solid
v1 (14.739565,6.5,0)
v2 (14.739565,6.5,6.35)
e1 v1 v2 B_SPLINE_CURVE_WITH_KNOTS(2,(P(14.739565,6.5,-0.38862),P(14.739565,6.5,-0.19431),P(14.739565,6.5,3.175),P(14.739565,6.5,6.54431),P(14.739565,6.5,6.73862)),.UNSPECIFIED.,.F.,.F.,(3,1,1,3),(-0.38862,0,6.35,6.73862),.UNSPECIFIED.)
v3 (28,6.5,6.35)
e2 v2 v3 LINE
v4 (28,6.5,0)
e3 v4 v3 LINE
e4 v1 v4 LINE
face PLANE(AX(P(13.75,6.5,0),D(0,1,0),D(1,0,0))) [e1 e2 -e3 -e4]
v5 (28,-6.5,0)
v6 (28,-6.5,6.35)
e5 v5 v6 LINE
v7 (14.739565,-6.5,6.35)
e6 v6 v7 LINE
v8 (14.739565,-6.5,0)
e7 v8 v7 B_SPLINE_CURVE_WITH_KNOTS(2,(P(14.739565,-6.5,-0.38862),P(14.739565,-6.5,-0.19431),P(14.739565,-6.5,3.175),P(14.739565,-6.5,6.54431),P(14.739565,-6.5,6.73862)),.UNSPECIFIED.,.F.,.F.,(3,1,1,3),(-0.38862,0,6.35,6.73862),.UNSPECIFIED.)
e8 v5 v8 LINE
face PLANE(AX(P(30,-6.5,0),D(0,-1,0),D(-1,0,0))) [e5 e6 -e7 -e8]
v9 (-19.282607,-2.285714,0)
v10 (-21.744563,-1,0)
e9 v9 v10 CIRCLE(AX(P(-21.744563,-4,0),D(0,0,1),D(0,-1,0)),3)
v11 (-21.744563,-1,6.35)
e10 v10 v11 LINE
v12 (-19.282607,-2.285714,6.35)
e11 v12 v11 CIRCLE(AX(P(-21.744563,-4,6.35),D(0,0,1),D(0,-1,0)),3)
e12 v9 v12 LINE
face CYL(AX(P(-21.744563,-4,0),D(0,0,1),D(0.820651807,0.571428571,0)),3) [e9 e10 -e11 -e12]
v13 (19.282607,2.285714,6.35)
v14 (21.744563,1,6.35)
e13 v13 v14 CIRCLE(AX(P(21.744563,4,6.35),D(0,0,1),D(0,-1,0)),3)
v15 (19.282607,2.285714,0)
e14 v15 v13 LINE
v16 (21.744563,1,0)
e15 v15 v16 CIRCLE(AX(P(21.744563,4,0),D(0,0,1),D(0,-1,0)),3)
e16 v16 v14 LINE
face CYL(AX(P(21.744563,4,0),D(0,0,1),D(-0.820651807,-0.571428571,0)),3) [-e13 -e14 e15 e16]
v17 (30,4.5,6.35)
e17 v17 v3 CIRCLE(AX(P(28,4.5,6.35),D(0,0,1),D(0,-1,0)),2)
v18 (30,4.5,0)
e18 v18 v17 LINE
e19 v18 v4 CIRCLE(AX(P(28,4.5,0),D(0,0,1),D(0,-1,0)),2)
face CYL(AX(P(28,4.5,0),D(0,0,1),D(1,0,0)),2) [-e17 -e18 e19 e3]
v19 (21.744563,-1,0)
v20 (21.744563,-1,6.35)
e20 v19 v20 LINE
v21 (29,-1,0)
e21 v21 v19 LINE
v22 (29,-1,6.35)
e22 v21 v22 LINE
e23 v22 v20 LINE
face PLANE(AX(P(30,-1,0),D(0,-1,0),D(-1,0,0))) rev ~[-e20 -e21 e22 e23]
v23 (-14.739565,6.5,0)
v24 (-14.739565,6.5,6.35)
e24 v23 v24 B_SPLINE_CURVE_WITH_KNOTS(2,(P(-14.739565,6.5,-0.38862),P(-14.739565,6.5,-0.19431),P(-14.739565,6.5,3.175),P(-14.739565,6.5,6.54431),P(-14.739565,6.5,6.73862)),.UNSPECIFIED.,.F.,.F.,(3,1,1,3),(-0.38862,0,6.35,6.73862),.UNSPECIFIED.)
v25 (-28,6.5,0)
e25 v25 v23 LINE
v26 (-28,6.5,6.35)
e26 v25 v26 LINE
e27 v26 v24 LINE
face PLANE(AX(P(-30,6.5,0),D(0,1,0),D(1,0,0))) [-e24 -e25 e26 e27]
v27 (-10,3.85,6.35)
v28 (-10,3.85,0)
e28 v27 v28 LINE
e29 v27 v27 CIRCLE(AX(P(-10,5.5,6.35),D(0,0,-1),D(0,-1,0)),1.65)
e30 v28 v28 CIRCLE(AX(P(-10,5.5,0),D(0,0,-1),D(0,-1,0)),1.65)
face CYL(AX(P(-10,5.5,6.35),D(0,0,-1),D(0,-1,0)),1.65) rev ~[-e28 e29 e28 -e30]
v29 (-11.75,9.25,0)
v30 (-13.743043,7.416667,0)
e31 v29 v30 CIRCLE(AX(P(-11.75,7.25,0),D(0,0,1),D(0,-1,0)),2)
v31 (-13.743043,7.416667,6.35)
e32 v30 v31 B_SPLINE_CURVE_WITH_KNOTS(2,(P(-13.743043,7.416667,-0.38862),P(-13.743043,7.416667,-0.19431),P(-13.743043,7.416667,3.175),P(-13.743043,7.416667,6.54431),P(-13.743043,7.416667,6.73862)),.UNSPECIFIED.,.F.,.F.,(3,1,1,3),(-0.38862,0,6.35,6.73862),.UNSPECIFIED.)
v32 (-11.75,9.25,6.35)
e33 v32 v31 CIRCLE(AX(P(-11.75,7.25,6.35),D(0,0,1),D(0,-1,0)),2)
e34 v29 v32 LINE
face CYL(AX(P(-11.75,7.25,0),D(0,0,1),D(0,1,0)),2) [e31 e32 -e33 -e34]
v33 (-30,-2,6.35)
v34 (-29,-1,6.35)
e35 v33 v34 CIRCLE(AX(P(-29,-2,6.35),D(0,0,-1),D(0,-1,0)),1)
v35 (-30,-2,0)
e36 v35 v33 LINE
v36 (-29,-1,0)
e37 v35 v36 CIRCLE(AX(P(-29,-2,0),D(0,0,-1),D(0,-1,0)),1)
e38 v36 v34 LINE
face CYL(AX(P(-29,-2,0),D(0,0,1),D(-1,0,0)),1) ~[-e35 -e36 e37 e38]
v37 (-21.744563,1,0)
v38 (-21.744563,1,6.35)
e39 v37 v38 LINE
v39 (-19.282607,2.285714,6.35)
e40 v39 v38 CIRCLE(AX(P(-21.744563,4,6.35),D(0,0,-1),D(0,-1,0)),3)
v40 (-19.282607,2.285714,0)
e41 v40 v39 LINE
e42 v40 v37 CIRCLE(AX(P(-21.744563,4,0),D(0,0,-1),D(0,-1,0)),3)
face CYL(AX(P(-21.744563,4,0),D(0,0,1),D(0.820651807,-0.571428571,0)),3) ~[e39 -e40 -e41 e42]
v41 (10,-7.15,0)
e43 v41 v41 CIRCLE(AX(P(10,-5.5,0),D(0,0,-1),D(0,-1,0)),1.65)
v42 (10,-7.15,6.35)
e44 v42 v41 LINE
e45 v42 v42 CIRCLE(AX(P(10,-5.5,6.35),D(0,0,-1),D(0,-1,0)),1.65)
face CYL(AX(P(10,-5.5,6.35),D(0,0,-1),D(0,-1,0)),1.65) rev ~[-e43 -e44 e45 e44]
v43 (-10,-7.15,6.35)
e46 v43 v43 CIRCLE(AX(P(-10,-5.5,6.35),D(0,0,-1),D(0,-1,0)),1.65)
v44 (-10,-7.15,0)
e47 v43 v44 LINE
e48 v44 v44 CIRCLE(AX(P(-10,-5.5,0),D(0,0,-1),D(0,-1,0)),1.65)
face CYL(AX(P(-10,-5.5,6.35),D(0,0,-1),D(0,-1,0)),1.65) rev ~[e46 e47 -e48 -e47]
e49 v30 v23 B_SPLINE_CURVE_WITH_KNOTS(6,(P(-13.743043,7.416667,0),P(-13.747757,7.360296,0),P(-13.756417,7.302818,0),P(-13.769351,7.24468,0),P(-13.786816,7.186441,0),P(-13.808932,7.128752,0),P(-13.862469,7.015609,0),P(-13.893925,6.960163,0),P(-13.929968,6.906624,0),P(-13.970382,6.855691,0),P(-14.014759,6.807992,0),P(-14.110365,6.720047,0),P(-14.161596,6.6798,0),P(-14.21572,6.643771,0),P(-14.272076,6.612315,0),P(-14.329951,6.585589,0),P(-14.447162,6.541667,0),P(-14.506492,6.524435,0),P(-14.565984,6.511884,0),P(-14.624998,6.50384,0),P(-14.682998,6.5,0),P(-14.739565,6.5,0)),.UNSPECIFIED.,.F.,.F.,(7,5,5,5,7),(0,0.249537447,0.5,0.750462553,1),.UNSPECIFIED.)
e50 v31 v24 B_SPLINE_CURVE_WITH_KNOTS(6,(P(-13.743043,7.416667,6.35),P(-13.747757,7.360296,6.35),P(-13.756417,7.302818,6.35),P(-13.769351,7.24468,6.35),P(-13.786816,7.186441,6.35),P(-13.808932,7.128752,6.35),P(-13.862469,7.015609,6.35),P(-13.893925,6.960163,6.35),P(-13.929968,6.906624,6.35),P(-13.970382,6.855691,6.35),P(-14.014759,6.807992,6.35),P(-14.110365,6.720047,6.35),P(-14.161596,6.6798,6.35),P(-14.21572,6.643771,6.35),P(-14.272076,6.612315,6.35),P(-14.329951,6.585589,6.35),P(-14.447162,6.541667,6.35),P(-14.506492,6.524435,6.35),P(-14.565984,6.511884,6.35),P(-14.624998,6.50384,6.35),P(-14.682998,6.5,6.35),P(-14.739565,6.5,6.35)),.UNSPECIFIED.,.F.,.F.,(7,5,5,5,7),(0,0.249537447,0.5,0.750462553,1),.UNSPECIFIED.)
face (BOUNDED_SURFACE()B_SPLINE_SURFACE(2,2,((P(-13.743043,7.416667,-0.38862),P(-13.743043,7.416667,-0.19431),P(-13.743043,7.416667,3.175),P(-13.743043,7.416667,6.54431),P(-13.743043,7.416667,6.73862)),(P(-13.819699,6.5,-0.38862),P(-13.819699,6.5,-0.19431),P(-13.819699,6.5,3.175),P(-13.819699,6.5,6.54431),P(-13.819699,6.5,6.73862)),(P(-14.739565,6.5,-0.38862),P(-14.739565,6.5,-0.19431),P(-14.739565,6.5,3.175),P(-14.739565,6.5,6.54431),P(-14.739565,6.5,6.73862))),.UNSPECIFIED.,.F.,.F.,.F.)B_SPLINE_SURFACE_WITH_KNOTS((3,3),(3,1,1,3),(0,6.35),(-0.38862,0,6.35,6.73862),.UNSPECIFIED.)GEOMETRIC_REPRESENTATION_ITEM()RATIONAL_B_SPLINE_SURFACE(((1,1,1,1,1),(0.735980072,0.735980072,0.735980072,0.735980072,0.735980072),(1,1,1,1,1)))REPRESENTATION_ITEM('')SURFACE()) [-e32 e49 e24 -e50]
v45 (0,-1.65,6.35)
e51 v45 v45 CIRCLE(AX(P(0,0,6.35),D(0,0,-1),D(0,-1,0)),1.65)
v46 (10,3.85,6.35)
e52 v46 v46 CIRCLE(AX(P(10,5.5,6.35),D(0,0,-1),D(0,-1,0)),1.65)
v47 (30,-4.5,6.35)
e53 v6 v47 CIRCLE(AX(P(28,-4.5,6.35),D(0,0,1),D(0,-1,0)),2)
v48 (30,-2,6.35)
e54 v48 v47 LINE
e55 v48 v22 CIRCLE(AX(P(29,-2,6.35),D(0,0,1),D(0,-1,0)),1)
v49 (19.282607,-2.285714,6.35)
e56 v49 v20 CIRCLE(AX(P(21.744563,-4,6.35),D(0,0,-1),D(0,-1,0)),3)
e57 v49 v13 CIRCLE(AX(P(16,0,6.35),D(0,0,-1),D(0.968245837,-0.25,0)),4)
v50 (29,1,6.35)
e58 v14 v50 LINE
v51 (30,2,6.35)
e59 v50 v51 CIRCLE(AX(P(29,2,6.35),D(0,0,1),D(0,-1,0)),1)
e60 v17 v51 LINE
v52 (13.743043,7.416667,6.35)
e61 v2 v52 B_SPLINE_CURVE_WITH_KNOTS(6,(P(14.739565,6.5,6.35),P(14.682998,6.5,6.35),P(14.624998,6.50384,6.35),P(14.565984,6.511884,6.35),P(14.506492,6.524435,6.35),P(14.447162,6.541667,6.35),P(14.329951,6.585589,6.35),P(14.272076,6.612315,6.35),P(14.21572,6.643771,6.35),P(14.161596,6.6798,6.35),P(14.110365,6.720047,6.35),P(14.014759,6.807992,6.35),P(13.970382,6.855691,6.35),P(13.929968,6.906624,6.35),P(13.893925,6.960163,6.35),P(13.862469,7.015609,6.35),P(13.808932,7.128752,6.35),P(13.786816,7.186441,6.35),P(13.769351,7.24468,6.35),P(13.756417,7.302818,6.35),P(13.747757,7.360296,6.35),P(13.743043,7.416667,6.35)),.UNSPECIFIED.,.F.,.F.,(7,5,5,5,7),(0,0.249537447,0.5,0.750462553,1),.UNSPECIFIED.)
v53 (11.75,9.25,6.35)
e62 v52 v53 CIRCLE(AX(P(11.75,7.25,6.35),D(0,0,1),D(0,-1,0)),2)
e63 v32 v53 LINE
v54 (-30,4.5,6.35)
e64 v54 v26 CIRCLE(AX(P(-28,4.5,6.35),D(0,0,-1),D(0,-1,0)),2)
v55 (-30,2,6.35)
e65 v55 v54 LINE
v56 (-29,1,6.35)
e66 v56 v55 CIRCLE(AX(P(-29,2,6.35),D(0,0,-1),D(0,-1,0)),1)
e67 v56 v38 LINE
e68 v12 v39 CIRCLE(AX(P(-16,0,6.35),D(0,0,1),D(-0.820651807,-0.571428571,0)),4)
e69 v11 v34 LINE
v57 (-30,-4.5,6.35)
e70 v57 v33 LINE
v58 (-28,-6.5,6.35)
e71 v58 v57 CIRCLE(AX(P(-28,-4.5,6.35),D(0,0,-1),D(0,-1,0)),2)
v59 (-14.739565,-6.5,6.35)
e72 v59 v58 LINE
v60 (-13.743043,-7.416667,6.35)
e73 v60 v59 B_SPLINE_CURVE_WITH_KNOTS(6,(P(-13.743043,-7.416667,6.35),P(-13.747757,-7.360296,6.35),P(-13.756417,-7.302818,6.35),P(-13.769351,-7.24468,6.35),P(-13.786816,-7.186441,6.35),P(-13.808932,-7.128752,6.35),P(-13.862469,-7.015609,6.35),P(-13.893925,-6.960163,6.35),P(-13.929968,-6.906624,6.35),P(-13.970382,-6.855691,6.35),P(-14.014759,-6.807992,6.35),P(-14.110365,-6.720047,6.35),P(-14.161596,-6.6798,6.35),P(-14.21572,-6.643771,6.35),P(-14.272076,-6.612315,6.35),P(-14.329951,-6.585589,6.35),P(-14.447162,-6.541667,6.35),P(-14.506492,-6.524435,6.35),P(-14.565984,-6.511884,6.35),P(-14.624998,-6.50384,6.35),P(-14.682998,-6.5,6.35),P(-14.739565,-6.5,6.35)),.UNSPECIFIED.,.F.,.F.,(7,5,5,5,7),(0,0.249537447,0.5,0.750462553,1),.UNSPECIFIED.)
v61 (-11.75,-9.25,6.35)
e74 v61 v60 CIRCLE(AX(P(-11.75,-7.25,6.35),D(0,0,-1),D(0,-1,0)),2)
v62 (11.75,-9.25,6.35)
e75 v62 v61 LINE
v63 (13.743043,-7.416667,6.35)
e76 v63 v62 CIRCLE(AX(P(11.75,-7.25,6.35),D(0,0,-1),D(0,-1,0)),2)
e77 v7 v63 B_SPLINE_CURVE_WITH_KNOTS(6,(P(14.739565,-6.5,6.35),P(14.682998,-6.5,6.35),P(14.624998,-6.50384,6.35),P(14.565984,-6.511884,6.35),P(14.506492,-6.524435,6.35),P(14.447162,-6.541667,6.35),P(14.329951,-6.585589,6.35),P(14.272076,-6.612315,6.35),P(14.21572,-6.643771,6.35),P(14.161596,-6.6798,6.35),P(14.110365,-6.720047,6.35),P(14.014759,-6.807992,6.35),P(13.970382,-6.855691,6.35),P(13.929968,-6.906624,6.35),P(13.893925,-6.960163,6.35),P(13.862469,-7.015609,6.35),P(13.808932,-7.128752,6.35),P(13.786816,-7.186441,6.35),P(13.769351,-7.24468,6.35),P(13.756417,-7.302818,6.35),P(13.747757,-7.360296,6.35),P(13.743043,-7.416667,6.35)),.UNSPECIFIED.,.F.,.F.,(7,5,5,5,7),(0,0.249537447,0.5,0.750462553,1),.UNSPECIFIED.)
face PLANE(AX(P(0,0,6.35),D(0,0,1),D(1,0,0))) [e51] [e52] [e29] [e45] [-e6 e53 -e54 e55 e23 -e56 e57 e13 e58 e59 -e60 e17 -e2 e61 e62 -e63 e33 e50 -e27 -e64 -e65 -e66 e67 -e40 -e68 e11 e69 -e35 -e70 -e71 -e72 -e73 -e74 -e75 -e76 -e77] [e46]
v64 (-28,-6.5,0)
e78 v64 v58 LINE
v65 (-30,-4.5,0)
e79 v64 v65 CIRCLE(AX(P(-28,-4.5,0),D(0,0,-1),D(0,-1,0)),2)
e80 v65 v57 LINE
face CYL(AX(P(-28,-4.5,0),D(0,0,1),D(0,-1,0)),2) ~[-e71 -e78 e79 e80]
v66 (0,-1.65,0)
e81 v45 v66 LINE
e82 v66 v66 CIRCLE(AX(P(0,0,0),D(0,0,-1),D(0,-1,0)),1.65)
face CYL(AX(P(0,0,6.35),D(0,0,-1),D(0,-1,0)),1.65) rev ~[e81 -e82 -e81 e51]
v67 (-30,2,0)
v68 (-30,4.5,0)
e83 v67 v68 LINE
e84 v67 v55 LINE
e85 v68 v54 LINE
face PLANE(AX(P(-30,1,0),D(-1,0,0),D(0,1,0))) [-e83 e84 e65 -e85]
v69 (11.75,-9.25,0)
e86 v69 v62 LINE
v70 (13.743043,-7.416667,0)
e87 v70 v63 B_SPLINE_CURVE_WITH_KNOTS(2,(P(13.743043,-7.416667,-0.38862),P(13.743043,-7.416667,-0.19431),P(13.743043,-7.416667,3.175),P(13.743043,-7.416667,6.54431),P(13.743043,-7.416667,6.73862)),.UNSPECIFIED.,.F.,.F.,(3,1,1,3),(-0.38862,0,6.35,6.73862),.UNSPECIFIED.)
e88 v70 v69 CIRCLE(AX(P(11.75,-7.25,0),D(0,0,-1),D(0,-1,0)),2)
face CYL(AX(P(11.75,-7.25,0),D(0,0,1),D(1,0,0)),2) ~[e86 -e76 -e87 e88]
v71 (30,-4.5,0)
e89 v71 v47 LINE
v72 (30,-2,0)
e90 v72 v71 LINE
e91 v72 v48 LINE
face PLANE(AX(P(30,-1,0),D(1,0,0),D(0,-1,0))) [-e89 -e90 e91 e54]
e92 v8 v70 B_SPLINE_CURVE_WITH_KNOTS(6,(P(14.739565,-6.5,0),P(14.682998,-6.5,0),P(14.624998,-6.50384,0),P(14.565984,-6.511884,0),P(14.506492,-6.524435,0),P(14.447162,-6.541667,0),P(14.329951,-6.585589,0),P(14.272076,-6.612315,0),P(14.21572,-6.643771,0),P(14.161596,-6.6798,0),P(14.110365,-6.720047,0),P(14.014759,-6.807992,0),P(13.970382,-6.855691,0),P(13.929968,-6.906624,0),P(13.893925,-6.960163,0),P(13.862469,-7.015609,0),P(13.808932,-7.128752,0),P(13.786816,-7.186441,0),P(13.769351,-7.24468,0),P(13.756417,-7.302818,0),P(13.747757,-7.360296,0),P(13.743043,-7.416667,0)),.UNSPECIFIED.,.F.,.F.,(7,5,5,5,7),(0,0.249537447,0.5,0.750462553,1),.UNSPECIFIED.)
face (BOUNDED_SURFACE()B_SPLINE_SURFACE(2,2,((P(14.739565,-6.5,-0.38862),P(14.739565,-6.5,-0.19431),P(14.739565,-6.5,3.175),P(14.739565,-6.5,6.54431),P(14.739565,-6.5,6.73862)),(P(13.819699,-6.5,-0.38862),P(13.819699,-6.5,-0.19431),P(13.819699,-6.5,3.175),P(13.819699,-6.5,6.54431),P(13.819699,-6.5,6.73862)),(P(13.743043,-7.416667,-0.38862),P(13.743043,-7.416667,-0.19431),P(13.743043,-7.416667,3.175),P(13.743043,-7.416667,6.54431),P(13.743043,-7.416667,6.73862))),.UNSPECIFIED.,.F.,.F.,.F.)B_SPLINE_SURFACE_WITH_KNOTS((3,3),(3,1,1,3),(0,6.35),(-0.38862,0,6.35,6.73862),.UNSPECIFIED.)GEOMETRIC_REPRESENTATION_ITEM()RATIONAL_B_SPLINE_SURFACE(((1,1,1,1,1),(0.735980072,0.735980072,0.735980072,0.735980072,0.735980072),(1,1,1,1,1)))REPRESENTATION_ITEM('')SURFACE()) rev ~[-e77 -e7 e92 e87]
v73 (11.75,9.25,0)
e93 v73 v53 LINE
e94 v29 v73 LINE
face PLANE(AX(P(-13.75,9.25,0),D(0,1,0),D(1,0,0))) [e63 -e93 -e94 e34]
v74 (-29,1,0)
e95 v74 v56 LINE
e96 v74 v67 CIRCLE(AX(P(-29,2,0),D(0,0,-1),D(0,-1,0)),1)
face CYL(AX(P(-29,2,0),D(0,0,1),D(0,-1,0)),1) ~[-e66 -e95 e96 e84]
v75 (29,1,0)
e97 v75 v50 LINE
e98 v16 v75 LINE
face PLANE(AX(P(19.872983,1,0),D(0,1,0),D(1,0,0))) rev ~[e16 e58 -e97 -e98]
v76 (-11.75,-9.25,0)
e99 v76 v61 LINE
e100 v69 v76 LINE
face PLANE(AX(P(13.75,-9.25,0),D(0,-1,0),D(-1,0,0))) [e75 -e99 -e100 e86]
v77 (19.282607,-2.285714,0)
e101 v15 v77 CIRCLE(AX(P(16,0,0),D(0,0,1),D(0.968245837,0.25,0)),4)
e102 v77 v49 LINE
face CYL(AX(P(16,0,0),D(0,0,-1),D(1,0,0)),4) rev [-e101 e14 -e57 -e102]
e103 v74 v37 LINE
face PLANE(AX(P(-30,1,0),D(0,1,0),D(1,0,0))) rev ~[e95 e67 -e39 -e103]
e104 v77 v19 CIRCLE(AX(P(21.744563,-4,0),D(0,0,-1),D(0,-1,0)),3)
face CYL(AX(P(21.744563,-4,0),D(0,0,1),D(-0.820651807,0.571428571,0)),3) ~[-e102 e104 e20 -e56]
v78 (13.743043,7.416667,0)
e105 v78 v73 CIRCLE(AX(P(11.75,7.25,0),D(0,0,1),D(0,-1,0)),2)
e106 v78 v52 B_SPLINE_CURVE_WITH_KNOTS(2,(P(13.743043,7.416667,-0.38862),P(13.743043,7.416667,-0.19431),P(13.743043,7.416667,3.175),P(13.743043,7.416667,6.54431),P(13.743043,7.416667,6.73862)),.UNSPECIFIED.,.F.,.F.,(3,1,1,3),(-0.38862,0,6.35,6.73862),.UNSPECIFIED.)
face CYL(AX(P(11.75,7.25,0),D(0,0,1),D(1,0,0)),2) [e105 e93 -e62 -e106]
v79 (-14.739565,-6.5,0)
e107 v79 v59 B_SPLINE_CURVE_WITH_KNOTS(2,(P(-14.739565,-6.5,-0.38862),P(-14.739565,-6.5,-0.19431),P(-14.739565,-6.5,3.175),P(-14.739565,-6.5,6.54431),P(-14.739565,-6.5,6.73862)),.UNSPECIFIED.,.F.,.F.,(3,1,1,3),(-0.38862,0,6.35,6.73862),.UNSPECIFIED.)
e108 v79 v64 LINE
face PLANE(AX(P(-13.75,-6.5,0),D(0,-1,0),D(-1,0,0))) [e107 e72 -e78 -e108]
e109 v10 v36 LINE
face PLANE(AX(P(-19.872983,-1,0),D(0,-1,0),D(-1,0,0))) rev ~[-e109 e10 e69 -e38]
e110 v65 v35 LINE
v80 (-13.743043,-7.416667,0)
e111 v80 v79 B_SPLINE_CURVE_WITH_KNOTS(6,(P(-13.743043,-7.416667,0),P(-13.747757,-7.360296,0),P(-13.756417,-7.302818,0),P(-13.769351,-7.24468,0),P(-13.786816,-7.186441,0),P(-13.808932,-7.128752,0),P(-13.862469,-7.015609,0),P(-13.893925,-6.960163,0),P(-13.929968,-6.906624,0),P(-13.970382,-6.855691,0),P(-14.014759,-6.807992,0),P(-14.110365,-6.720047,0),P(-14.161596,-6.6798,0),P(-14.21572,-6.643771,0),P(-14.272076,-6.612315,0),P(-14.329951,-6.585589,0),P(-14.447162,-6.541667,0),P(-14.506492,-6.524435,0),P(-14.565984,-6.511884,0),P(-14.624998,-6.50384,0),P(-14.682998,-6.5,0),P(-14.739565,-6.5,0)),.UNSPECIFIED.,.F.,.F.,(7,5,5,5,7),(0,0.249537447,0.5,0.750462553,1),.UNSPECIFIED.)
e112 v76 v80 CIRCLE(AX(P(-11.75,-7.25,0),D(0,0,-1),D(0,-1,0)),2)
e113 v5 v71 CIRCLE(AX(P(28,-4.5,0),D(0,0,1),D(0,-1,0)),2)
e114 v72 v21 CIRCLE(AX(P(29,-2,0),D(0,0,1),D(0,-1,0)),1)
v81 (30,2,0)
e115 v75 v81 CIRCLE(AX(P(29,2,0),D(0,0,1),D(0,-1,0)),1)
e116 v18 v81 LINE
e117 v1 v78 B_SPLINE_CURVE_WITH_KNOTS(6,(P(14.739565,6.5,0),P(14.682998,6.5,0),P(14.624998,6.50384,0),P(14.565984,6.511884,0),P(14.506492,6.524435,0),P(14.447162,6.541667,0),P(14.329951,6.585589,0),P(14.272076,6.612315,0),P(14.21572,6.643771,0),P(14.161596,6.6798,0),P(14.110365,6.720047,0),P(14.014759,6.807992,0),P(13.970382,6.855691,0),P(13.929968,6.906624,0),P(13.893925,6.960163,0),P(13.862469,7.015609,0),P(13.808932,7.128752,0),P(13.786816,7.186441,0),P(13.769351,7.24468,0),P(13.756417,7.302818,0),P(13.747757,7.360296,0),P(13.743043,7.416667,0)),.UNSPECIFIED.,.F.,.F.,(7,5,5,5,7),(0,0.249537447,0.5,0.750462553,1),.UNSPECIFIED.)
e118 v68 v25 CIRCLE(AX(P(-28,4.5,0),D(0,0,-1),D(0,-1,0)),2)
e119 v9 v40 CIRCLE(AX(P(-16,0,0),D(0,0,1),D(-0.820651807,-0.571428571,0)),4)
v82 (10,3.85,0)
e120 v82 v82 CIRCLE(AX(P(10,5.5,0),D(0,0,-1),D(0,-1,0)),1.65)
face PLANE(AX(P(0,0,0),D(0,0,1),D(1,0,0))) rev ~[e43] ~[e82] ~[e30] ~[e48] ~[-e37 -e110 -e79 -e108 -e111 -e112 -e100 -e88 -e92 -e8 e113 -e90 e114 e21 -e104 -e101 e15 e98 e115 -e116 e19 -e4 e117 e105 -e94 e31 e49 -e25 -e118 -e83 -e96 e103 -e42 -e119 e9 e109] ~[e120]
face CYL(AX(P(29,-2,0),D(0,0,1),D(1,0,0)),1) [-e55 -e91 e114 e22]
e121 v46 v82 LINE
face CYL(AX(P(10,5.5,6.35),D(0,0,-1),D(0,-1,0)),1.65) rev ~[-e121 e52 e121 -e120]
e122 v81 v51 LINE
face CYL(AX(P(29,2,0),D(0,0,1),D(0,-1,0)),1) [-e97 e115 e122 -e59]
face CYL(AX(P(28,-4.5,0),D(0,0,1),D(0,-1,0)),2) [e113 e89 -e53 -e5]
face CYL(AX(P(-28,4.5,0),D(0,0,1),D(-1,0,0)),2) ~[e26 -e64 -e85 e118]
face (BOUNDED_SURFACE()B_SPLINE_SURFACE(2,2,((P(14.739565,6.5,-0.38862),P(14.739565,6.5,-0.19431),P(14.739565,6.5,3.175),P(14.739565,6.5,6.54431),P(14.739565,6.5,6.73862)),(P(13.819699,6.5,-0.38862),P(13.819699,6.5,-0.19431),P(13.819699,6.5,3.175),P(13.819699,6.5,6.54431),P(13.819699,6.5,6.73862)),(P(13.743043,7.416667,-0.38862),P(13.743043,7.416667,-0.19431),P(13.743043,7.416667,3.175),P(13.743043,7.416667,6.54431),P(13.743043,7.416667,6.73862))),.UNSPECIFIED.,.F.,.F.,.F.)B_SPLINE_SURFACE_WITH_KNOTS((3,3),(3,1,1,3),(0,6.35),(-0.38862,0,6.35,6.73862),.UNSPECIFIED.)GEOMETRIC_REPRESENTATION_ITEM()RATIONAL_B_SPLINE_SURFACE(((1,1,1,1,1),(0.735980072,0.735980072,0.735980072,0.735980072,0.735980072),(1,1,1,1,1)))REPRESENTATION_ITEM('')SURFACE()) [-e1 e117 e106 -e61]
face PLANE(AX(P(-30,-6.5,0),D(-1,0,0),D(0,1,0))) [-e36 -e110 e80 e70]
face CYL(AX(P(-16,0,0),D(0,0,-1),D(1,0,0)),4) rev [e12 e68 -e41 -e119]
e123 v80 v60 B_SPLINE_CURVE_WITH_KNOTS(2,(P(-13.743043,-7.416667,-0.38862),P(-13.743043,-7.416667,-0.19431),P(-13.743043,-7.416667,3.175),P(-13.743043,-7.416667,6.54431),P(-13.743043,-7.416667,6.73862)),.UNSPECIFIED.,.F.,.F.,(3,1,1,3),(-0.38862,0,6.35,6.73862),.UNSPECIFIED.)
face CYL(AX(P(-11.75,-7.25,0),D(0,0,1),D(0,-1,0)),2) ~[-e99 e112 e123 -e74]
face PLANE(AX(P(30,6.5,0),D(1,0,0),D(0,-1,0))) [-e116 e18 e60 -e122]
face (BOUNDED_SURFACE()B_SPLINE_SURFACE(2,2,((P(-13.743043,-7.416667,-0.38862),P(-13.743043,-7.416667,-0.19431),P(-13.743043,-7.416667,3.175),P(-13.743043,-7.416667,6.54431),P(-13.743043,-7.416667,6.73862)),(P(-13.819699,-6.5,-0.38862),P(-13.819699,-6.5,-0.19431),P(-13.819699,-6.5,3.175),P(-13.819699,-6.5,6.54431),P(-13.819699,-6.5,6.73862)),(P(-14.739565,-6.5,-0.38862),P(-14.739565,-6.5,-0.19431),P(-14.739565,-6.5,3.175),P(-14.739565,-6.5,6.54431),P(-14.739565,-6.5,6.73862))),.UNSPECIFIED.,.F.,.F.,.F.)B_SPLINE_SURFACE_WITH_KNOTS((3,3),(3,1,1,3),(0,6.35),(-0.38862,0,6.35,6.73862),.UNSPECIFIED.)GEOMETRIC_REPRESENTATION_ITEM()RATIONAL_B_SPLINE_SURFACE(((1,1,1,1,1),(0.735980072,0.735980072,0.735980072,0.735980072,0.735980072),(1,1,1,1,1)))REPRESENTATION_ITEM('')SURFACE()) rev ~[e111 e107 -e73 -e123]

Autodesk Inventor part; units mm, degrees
ref_plane "YZ Plane" through (0, 0, 0) normal (1, 0, 0) x (0, 1, 0)
ref_plane "XZ Plane" through (0, 0, 0) normal (0, 1, 0) x (-1, 0, 0)
ref_plane "XY Plane" through (0, 0, 0) normal (0, 0, 1) x (1, 0, 0)
sketch "Sketch1" plane through (0, 0, 0) normal (0, 0, 1) x (1, 0, 0)
  line L0 (13.75, -9.25) -> (-13.75, -9.25)
  line L1 (-13.75, -9.25) -> (-13.75, 9.25)
  line L2 (-13.75, 9.25) -> (13.75, 9.25)
  line L3 (13.75, 9.25) -> (13.75, -9.25)
  line L4 (13.75, -9.25) -> (-13.75, 9.25) construction
  line L5 (-13.75, -9.25) -> (13.75, 9.25) construction
  line L6 (-16, 0) -> (16, 0) construction
  circle A0 centre (-16, 0) radius 4
  circle A1 centre (16, 0) radius 4
  line L7 (30, -1) -> (-30, -1)
  line L8 (-30, -1) -> (-30, 1)
  line L9 (-30, 1) -> (30, 1)
  line L10 (30, 1) -> (30, -1)
  line L11 (30, -1) -> (-30, 1) construction
  line L12 (-30, -1) -> (30, 1) construction
  line L13 (30, -6.5) -> (-30, -6.5)
  line L14 (-30, -6.5) -> (-30, 6.5)
  line L15 (-30, 6.5) -> (30, 6.5)
  line L16 (30, 6.5) -> (30, -6.5)
  line L17 (30, -6.5) -> (-30, 6.5) construction
  line L18 (-30, -6.5) -> (30, 6.5) construction
  point P0 (0, 0)
  point P1 (-19.873, -1)
  point P2 (-13.75, -6.5)
  point P3 (13.75, -6.5)
  point P4 (19.873, -1)
  point P5 (19.873, 1)
  point P6 (13.75, 6.5)
  point P7 (-13.75, 6.5)
  point P8 (-19.873, 1)
  dimension "d0" = 27.5
  dimension "d1" = 18.5
  dimension "d2" = 8
  dimension "d3" = 8
  dimension "d4" = 32
  dimension "d5" = 60
  dimension "d6" = 2
  dimension "d7" = 13
extrude "Extrusion1" add sketch "Sketch1" along normal blind 6.35 contours L0 L1 L13 L3 | L13 L1 A0 L7 A1 L3 | L3 A1 L7 L16 L13 | L13 L14 L7 A0 L1 | L7 A0 L9 A1 | L9 A0 L1 L15 L3 A1 | L9 A1 L3 L15 L16 | L9 L14 L15 L1 A0 | L15 L1 L2 L3
fillet "Fillet4" radius 3 4 edges at (-19.873, 1, 3.175) (-19.873, -1, 3.175) (19.873, 1, 3.175) (19.873, -1, 3.175)
fillet "Fillet1" radius 2 4 edges at (13.75, 9.25, 3.175) (-13.75, 9.25, 3.175) (-13.75, -9.25, 3.175) (13.75, -9.25, 3.175)
fillet "Fillet2" radius 2 4 edges at (-30, 6.5, 3.175) (-30, -6.5, 3.175) (30, 6.5, 3.175) (30, -6.5, 3.175)
fillet "Fillet3" radius 1 8 edges at (-30, -1, 3.175) (-30, 1, 3.175) (-13.75, -6.5, 3.175) (-13.75, 6.5, 3.175) (13.75, 6.5, 3.175) (13.75, -6.5, 3.175) (30, 1, 3.175) (30, -1, 3.175)
sketch "Sketch2" plane through (0, 0, 6.35) normal (0, 0, 1) x (1, 0, 0)
  line L0 (10, -5.5) -> (-10, -5.5) construction
  line L1 (-10, -5.5) -> (-10, 5.5) construction
  line L2 (-10, 5.5) -> (10, 5.5) construction
  line L3 (10, 5.5) -> (10, -5.5) construction
  line L4 (10, -5.5) -> (-10, 5.5) construction
  line L5 (-10, -5.5) -> (10, 5.5) construction
  circle A0 centre (-10, 5.5) radius 3 construction
  circle A1 centre (-10, -5.5) radius 3 construction
  circle A2 centre (-10, 5.5) radius 1.65 construction
  line L6 (11.75, 9.25) -> (-11.75, 9.25) construction
  point P0 (0, 0)
  dimension "d13" = 20
  dimension "d14" = 11
  dimension "d22" = 6
  dimension "d23" = 6
  dimension "d25" = 3.3
  dimension "d26" = 2.1
hole "Hole1" at (-10, 5.5, 6.35) at (10, 5.5, 6.35) at (10, -5.5, 6.35) at (-10, -5.5, 6.35) direction (0, 0, -1) diameter 3.3 end through all
sketch "Sketch3" plane through (0, 0, 6.35) normal (0, 0, 1) x (1, 0, 0)
  point P0 (0, 0)
hole "Hole2" at (0, 0, 6.35) direction (0, 0, -1) diameter 3.3 end through all
properties part number "Printhead Belt Retainer R2" material "Aluminum 6061"
